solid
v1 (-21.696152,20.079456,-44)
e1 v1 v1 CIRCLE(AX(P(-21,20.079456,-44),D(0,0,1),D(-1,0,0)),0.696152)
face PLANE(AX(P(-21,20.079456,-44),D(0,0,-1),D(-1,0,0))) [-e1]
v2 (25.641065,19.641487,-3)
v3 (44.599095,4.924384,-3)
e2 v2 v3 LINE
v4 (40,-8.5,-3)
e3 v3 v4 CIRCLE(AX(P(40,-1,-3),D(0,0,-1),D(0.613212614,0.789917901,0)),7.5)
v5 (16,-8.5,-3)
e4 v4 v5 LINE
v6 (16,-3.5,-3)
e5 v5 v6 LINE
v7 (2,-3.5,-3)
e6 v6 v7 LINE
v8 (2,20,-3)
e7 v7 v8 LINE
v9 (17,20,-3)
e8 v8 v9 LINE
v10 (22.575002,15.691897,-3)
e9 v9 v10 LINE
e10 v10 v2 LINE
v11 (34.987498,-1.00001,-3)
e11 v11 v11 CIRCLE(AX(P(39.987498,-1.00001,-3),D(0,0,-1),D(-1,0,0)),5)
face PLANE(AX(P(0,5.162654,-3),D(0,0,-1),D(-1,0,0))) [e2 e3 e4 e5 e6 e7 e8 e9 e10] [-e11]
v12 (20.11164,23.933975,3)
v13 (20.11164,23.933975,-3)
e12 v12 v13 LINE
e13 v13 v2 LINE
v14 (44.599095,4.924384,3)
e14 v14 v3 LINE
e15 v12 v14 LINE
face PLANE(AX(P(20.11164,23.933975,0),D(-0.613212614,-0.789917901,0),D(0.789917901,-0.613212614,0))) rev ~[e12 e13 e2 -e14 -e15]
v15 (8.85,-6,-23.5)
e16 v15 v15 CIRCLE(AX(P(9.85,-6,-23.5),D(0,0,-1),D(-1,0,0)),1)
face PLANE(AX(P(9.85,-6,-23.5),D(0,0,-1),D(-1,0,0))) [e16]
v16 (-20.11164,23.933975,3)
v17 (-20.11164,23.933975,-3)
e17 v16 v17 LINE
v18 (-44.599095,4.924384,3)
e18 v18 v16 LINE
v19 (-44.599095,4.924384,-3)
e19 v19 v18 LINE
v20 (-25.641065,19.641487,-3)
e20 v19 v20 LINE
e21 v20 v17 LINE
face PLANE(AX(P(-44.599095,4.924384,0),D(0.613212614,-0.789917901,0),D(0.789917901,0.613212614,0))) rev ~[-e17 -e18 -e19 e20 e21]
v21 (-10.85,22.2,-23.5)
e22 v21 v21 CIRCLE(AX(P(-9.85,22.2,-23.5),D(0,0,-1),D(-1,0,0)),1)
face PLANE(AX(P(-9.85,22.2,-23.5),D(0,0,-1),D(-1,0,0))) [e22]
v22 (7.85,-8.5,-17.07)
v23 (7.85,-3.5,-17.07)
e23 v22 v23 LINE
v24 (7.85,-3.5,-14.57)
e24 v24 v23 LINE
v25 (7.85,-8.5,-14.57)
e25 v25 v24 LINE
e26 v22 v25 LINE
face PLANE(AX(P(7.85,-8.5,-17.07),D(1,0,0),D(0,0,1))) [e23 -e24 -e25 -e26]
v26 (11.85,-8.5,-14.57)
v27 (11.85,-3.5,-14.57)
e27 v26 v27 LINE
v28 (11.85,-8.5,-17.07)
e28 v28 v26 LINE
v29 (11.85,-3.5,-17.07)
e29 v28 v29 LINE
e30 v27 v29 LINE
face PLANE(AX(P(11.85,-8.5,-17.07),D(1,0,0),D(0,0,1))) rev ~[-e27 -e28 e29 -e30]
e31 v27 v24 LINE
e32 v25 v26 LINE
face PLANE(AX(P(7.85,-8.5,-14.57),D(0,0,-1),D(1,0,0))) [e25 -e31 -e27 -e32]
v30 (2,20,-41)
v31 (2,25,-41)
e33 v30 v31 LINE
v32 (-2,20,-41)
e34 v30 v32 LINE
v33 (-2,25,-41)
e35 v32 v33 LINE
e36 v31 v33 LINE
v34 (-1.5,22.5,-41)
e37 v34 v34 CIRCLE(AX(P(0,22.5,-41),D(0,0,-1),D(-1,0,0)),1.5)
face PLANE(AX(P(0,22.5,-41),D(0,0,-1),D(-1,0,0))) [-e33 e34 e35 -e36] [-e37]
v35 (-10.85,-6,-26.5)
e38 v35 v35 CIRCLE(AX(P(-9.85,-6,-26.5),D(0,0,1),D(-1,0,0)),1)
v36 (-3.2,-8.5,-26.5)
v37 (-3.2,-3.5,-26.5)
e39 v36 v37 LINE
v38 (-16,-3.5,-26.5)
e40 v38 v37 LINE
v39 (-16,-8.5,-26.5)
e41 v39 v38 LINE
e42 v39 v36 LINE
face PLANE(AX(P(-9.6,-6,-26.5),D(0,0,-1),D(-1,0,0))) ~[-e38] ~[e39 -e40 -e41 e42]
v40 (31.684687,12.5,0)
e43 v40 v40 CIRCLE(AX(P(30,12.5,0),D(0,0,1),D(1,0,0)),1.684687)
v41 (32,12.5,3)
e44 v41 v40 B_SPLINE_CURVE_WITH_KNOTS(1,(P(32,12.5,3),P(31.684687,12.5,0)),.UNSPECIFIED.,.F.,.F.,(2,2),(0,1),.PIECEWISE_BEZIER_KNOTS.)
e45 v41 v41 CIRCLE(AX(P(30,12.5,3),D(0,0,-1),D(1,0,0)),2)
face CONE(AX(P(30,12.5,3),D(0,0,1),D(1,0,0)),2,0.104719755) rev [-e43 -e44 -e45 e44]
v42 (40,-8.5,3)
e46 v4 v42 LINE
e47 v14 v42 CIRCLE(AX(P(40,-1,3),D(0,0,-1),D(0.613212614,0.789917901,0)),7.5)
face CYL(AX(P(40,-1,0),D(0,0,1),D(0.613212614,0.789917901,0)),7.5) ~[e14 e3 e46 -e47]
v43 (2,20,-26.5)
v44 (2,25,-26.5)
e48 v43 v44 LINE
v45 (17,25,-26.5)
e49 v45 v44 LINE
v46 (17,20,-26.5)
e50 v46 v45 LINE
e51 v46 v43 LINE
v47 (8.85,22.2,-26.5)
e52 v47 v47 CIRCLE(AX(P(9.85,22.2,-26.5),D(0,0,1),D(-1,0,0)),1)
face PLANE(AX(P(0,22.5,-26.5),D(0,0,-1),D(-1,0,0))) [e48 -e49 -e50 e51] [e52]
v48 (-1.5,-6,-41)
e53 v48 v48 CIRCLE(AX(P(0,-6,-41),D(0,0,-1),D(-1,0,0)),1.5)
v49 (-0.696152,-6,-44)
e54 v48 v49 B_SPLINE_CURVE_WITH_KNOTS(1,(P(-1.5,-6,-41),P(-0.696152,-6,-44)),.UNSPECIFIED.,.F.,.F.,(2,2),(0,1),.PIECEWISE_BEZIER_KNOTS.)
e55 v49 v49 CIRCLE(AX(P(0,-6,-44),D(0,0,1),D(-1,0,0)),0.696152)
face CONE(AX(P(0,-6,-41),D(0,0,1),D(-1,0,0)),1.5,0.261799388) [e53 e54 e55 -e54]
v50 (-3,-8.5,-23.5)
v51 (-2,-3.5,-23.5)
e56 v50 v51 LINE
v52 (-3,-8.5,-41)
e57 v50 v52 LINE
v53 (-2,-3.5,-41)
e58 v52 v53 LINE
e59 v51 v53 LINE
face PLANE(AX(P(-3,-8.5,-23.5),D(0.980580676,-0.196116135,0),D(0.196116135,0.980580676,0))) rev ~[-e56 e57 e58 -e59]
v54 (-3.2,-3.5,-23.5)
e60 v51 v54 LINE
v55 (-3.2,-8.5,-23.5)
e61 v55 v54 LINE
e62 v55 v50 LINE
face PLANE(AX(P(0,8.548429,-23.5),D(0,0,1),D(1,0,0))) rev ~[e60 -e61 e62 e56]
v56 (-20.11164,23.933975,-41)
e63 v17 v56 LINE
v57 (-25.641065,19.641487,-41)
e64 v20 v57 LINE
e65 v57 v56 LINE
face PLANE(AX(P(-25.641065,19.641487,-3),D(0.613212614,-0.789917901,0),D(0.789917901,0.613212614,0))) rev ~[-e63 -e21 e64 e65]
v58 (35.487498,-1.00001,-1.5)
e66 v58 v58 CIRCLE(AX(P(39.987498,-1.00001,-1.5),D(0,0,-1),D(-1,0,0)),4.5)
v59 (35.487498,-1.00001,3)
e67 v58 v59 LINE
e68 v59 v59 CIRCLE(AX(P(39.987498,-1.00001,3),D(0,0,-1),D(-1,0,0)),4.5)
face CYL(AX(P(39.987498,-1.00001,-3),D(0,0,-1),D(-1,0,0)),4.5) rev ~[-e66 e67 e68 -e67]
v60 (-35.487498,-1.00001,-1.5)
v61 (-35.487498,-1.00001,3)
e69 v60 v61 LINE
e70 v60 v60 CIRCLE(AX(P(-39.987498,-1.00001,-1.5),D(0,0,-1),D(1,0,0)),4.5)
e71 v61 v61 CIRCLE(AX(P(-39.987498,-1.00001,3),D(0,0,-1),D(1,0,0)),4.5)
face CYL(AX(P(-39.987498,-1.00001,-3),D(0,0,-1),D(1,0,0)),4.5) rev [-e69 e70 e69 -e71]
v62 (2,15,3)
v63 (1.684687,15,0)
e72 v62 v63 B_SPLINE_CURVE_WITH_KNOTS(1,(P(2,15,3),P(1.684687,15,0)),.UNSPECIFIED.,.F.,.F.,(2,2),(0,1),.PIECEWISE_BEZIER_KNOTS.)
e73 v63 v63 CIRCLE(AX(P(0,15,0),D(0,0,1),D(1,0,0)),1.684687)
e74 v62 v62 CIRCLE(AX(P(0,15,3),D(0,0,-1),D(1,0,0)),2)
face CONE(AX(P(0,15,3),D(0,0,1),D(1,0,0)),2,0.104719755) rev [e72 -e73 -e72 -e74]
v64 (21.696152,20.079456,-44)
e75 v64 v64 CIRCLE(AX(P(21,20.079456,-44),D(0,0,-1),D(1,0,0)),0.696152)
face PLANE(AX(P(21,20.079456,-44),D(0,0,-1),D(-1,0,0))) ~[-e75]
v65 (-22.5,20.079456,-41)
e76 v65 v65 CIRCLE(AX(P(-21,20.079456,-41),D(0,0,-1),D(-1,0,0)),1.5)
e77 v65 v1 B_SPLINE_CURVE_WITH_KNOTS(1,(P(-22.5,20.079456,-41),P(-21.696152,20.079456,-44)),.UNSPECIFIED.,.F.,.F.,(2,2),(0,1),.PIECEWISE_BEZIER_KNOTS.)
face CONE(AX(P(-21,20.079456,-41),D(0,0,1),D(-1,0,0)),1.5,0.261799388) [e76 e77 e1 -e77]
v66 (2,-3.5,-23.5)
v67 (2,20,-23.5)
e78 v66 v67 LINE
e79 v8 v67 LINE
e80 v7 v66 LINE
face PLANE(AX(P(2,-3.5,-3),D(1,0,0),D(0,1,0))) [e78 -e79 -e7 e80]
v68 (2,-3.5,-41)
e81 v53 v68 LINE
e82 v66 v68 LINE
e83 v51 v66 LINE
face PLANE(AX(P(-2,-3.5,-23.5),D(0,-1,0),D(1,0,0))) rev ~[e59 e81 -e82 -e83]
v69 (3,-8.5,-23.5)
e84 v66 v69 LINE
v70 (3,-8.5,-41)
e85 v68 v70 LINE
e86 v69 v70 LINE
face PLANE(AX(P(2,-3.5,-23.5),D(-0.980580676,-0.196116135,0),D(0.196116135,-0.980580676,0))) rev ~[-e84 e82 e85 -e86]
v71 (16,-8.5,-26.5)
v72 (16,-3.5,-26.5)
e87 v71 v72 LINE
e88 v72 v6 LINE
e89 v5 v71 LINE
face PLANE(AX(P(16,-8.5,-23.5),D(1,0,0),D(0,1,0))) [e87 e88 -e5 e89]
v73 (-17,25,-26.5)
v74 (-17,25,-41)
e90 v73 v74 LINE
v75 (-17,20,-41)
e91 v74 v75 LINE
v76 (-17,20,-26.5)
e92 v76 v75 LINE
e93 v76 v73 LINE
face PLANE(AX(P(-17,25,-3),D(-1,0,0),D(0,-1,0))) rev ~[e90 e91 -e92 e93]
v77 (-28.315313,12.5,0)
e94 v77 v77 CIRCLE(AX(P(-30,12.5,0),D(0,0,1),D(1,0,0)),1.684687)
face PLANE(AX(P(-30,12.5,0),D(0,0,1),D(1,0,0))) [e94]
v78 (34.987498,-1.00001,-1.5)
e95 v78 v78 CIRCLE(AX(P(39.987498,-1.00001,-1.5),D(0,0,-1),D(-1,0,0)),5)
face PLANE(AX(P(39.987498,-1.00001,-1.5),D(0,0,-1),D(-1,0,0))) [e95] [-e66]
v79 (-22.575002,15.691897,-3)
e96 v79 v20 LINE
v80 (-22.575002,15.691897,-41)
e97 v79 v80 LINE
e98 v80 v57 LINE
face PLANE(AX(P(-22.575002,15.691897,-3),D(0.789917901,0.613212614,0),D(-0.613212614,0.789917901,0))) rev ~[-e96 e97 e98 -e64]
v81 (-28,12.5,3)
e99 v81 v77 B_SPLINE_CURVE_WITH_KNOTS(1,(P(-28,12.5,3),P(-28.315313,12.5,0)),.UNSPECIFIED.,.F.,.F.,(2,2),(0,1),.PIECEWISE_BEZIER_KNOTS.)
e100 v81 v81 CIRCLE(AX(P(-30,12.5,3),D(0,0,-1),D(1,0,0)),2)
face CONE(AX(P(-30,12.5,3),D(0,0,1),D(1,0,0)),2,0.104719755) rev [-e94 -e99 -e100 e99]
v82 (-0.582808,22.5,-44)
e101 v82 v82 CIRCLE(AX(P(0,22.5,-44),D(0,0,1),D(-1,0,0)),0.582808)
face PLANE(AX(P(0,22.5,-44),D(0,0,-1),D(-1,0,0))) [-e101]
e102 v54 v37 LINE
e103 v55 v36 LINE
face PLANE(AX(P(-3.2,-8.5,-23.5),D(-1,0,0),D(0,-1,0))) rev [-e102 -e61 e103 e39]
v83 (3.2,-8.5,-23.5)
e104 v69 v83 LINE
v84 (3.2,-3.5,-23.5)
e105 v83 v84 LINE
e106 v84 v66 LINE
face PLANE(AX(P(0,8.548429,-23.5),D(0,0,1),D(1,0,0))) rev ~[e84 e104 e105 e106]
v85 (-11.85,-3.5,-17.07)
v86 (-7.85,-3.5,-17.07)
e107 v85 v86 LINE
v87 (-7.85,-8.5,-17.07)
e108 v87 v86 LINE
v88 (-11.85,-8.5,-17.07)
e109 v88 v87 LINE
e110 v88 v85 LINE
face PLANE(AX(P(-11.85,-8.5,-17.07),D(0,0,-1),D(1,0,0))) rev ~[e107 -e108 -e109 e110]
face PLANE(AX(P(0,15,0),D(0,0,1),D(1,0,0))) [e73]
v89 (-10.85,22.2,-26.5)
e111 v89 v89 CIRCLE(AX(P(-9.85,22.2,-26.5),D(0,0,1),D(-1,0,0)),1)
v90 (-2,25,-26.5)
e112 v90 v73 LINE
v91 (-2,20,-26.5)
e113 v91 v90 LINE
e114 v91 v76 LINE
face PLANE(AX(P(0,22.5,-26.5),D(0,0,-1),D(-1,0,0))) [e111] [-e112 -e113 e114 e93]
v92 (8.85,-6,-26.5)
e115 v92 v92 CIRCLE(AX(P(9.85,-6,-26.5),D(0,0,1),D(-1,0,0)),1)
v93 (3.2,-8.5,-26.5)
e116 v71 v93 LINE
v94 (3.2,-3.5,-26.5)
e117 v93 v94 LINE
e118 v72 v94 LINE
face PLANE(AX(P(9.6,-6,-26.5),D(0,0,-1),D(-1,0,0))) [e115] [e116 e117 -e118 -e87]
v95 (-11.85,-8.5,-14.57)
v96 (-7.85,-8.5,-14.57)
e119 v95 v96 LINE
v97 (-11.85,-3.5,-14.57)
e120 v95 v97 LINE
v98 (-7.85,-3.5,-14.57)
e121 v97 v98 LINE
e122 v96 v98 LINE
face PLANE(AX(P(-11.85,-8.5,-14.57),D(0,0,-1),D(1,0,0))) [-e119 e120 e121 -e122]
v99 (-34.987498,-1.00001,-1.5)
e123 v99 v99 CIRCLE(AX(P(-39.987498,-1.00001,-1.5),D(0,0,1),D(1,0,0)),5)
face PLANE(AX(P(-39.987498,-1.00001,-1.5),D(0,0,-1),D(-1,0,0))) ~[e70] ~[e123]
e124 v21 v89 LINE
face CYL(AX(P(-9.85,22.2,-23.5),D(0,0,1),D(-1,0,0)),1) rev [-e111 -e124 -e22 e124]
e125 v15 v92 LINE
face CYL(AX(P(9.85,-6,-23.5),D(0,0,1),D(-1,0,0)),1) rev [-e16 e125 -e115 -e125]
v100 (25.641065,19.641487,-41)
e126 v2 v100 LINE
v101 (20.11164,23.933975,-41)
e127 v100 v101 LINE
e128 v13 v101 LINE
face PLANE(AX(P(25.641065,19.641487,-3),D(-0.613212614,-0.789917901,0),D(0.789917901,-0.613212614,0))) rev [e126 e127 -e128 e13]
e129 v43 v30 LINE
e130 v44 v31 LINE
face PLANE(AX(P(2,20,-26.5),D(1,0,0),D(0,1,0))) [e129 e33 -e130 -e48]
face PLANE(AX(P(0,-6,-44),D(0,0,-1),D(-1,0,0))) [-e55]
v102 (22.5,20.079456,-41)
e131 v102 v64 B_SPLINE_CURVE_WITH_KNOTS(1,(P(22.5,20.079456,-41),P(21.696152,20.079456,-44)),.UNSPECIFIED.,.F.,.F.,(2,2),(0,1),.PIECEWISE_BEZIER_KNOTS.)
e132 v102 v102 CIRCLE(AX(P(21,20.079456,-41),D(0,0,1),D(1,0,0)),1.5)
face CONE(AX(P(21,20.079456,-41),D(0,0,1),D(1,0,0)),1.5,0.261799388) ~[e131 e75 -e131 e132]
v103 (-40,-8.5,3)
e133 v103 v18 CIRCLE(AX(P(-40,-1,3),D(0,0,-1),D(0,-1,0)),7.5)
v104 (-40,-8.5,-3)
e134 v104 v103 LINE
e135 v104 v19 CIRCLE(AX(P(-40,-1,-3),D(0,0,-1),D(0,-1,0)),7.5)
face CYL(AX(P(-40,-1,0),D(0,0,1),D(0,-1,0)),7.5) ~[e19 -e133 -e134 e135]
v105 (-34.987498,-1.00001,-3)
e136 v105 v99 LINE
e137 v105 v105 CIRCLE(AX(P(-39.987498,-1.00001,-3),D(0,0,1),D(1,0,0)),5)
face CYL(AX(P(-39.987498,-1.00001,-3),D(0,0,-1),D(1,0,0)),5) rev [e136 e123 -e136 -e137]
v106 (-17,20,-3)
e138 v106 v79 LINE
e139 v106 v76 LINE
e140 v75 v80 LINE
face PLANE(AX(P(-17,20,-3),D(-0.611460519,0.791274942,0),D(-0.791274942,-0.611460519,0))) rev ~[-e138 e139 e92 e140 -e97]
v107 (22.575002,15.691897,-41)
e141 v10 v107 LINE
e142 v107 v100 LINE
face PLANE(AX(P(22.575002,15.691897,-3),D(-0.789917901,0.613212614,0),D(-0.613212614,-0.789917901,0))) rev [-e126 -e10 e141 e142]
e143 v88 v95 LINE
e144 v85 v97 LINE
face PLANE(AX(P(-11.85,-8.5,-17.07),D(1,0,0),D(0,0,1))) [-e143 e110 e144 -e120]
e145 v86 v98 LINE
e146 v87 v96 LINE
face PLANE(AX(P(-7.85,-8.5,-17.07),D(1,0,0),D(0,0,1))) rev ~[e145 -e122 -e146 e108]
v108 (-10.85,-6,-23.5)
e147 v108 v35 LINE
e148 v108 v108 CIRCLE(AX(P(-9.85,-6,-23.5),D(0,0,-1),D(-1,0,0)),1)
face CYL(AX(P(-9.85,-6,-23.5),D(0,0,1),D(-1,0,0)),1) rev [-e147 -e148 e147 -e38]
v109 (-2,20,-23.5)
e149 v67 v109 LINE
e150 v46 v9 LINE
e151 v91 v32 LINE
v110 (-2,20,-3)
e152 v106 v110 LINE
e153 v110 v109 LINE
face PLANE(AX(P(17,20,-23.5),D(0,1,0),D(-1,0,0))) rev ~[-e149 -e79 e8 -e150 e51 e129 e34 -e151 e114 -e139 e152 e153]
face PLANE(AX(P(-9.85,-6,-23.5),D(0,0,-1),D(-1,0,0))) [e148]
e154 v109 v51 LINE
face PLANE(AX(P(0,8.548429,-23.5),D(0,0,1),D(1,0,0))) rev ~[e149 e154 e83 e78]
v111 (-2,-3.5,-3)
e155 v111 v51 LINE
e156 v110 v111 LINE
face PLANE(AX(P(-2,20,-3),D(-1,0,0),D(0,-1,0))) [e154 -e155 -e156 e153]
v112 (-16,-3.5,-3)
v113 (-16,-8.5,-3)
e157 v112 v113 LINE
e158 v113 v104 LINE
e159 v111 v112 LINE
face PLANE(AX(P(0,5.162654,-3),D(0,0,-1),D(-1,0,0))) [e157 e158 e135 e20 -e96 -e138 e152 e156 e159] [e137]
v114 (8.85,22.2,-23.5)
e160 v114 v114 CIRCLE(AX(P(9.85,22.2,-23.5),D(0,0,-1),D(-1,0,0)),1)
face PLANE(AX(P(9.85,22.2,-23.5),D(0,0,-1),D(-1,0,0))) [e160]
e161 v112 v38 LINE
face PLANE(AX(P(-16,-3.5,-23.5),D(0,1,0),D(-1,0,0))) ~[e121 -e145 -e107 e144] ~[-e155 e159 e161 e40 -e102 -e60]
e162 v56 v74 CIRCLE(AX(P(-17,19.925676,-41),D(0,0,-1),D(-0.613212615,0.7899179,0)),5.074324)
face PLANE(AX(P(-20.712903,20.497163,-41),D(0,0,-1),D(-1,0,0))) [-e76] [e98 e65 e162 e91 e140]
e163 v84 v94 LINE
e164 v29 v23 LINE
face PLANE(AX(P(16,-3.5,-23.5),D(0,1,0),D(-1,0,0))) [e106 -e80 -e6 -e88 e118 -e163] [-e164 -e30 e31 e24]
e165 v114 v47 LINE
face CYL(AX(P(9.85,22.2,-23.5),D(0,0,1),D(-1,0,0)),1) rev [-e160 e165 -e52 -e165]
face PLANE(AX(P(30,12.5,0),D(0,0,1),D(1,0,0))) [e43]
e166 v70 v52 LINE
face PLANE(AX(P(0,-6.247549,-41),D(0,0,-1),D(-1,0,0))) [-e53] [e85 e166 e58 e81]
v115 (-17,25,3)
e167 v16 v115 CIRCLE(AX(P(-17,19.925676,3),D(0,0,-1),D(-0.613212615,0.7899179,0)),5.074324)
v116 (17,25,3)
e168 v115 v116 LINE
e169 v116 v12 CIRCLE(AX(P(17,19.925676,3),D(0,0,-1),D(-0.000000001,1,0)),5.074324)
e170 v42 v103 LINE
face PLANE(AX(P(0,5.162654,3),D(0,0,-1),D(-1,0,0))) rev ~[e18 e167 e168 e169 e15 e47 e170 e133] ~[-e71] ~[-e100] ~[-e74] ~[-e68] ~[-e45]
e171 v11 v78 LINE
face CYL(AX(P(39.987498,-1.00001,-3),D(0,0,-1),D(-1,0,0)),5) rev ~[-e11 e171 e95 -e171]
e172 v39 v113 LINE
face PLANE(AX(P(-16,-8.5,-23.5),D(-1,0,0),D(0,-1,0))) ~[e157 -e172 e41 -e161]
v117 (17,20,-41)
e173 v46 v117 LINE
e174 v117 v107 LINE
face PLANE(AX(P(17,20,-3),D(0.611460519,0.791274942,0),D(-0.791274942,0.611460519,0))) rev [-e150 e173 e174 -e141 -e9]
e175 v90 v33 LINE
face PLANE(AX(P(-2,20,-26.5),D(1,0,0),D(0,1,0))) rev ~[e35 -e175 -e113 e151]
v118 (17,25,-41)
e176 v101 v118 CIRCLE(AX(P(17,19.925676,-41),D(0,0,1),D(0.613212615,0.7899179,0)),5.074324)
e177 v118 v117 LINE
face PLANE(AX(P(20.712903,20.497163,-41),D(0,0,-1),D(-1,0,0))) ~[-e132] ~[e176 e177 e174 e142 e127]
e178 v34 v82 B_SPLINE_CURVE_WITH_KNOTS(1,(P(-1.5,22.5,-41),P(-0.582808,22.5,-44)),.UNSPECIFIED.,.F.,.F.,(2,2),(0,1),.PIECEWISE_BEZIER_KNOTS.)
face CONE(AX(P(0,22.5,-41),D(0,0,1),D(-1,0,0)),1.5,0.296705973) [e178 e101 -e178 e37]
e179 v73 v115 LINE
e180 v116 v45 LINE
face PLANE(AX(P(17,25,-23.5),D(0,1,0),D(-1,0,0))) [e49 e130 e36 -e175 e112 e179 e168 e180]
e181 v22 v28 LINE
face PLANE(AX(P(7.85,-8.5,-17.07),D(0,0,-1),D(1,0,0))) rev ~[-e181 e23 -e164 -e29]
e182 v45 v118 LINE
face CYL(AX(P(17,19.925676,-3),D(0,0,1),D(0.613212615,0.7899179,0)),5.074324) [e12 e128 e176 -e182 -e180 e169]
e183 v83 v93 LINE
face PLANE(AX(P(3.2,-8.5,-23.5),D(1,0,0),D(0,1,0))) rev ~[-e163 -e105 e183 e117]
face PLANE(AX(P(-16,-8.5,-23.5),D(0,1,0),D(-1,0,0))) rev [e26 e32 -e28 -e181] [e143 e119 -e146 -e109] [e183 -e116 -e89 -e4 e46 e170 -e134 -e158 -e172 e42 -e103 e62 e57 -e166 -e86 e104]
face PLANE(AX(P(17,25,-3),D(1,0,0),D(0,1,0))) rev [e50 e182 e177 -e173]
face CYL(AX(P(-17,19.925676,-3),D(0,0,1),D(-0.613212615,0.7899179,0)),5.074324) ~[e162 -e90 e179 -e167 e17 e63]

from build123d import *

# Parameters (mm, degrees)
BOSS_EXTRUDE2_DEPTH  = 3
SKETCH3_R            = 4.5
CUT_EXTRUDE3_DEPTH   = 8
SKETCH4_R            = 5
CUT_EXTRUDE4_DEPTH   = 1.5
BOSS_EXTRUDE3_DEPTH  = 20.5
BOSS_EXTRUDE4_DEPTH  = 38
BOSS_EXTRUDE5_DEPTH  = 17.5
SKETCH10_R           = 1.5
BOSS_EXTRUDE6_DEPTH  = 3
BOSS_EXTRUDE6_TAPER  = 15
SKETCH11_R           = 2
CUT_EXTRUDE6_DEPTH   = 3
CUT_EXTRUDE6_TAPER   = 6
SKETCH12_W           = 12.8
SKETCH12_H           = 5
BOSS_EXTRUDE11_DEPTH = 3
SKETCH13_W           = 34
SKETCH13_H           = 5
BOSS_EXTRUDE12_DEPTH = 3
SKETCH9_R            = 1
CUT_EXTRUDE5_DEPTH   = 5
SKETCH15_W           = 4
SKETCH15_H           = 2.5
CUT_EXTRUDE7_DEPTH   = 10
SKETCH16_W           = 4
SKETCH16_H           = 5
BOSS_EXTRUDE13_DEPTH = 14.5
SKETCH17_R           = 1.5
BOSS_EXTRUDE14_DEPTH = 3
BOSS_EXTRUDE14_TAPER = 17


with BuildPart() as part:
    # Sketch1 → Boss-Extrude2 (new body, symmetric)
    with BuildSketch(Plane.XY):
        with BuildLine():
            Line((-44.599094606, 4.924384255), (-20.111639684, 23.933975293))
            ThreePointArc((-20.111639684, 23.933975293), (-18.64459039, 24.726101678), (-17, 25))
            Line((-17, 25), (17, 25))
            ThreePointArc((17, 25), (18.64459039, 24.726101678), (20.111639684, 23.933975293))
            Line((20.111639684, 23.933975293), (44.599094606, 4.924384255))
            ThreePointArc((44.599094606, 4.924384255), (47.095170256, -3.430752773), (40, -8.5))
            Line((40, -8.5), (-40, -8.5))
            ThreePointArc((-40, -8.5), (-47.095170256, -3.430752773), (-44.599094606, 4.924384255))
        make_face()
    extrude(amount=BOSS_EXTRUDE2_DEPTH, both=True)

    # Sketch3 → Cut-Extrude3 (cut)
    with BuildSketch(Plane(origin=(0, 0, -3), x_dir=(-1, 0, 0), z_dir=(0, 0, -1))):
        with Locations((-39.987497786, -1.00001042)):
            Circle(SKETCH3_R)
    cut_extrude3 = extrude(amount=-CUT_EXTRUDE3_DEPTH, mode=Mode.SUBTRACT)

    # Sketch4 → Cut-Extrude4 (cut)
    with BuildSketch(Plane(origin=(0, 0, -3), x_dir=(-1, 0, 0), z_dir=(0, 0, -1))):
        with Locations((-39.987497786, -1.00001042)):
            Circle(SKETCH4_R)
    cut_extrude4 = extrude(amount=-CUT_EXTRUDE4_DEPTH, mode=Mode.SUBTRACT)

    # Mirror1: Cut-Extrude3, Cut-Extrude4 across plane
    add(cut_extrude3.mirror(Plane(origin=(0, 0, 0), x_dir=(0, 0, 1), z_dir=(1, 0, 0))), mode=Mode.SUBTRACT)
    add(cut_extrude4.mirror(Plane(origin=(0, 0, 0), x_dir=(0, 0, 1), z_dir=(1, 0, 0))), mode=Mode.SUBTRACT)

    # Sketch5 → Boss-Extrude3 (add)
    with BuildSketch(Plane(origin=(0, 0, -3), x_dir=(-1, 0, 0), z_dir=(0, 0, -1))):
        Polygon((-17, 25), (17, 25), (17, 20), (2, 20), (2, -3.5), (16, -3.5), (16, -8.5), (-16, -8.5), (-16, -3.5), (-2, -3.5), (-2, 20), (-17, 20), align=None)
    extrude(amount=BOSS_EXTRUDE3_DEPTH)

    # Sketch7 → Boss-Extrude4 (add)
    with BuildSketch(Plane(origin=(0, 0, -3), x_dir=(-1, 0, 0), z_dir=(0, 0, -1))):
        with BuildLine():
            Line((17, 20), (22.575001918, 15.691897491))
            Line((22.575001918, 15.691897491), (25.641064989, 19.641486995))
            Line((25.641064989, 19.641486995), (20.111639684, 23.933975293))
            ThreePointArc((20.111639684, 23.933975293), (18.64459039, 24.726101678), (17, 25))
            Line((17, 25), (17, 20))
        make_face()
    boss_extrude4 = extrude(amount=BOSS_EXTRUDE4_DEPTH)

    # Mirror2: Boss-Extrude4 across plane
    add(boss_extrude4.mirror(Plane(origin=(0, 0, 0), x_dir=(0, 0, 1), z_dir=(1, 0, 0))))

    # Sketch8 → Boss-Extrude5 (add)
    with BuildSketch(Plane(origin=(0, 0, -23.5), x_dir=(-1, 0, 0), z_dir=(0, 0, -1))):
        Polygon((0, -8.5), (3, -8.5), (2, -3.5), (-2, -3.5), (-3, -8.5), align=None)
    extrude(amount=BOSS_EXTRUDE5_DEPTH)

    # Sketch10 → Boss-Extrude6 (add)
    with BuildSketch(Plane(origin=(0, 0, -41), x_dir=(-1, 0, 0), z_dir=(0, 0, -1))):
        with Locations((21, 20.079456047)):
            Circle(SKETCH10_R)
        with Locations((0, -6)):
            Circle(SKETCH10_R)
    boss_extrude6 = extrude(amount=BOSS_EXTRUDE6_DEPTH, taper=BOSS_EXTRUDE6_TAPER)

    # Mirror3: Boss-Extrude6 across plane
    add(boss_extrude6.mirror(Plane(origin=(0, 0, 0), x_dir=(0, 0, 1), z_dir=(1, 0, 0))))

    # Sketch11 → Cut-Extrude6 (cut)
    with BuildSketch(Plane.XY.offset(3)):
        with Locations((0, 15)):
            Circle(SKETCH11_R)
        with Locations((30, 12.5)):
            Circle(SKETCH11_R)
        with Locations((-30, 12.5)):
            Circle(SKETCH11_R)
    extrude(amount=-CUT_EXTRUDE6_DEPTH, taper=CUT_EXTRUDE6_TAPER, mode=Mode.SUBTRACT)

    # Sketch12 → Boss-Extrude11 (add)
    with BuildSketch(Plane(origin=(0, 0, -23.5), x_dir=(-1, 0, 0), z_dir=(0, 0, -1))):
        with Locations((-9.6, -6)):
            Rectangle(SKETCH12_W, SKETCH12_H)
    boss_extrude11 = extrude(amount=BOSS_EXTRUDE11_DEPTH)

    # Mirror4: Boss-Extrude11 across plane
    add(boss_extrude11.mirror(Plane(origin=(0, 0, 0), x_dir=(0, 0, 1), z_dir=(1, 0, 0))))

    # Sketch13 → Boss-Extrude12 (add)
    with BuildSketch(Plane(origin=(0, 0, -23.5), x_dir=(-1, 0, 0), z_dir=(0, 0, -1))):
        with Locations((0, 22.5)):
            Rectangle(SKETCH13_W, SKETCH13_H)
    extrude(amount=BOSS_EXTRUDE12_DEPTH)

    # Sketch9 → Cut-Extrude5 (cut)
    with BuildSketch(Plane(origin=(0, 0, -23.5), x_dir=(-1, 0, 0), z_dir=(0, 0, -1))):
        with Locations((-9.85, -6)):
            Circle(SKETCH9_R)
        with Locations((-9.85, 22.2)):
            Circle(SKETCH9_R)
        with Locations((9.85, 22.2)):
            Circle(SKETCH9_R)
        with Locations((9.85, -6)):
            Circle(SKETCH9_R)
    extrude(amount=CUT_EXTRUDE5_DEPTH, mode=Mode.SUBTRACT)

    # Sketch15 → Cut-Extrude7 (cut)
    with BuildSketch(Plane.XZ.offset(8.5)):
        with Locations((-9.85, -15.82)):
            Rectangle(SKETCH15_W, SKETCH15_H)
        with Locations((9.85, -15.82)):
            Rectangle(SKETCH15_W, SKETCH15_H)
    extrude(amount=-CUT_EXTRUDE7_DEPTH, mode=Mode.SUBTRACT)

    # Sketch16 → Boss-Extrude13 (add)
    with BuildSketch(Plane(origin=(0, 0, -26.5), x_dir=(-1, 0, 0), z_dir=(0, 0, -1))):
        with Locations((0, 22.5)):
            Rectangle(SKETCH16_W, SKETCH16_H)
    extrude(amount=BOSS_EXTRUDE13_DEPTH)

    # Sketch17 → Boss-Extrude14 (add)
    with BuildSketch(Plane(origin=(0, 0, -41), x_dir=(-1, 0, 0), z_dir=(0, 0, -1))):
        with Locations((0, 22.5)):
            Circle(SKETCH17_R)
    extrude(amount=BOSS_EXTRUDE14_DEPTH, taper=BOSS_EXTRUDE14_TAPER)


solid = part.part
